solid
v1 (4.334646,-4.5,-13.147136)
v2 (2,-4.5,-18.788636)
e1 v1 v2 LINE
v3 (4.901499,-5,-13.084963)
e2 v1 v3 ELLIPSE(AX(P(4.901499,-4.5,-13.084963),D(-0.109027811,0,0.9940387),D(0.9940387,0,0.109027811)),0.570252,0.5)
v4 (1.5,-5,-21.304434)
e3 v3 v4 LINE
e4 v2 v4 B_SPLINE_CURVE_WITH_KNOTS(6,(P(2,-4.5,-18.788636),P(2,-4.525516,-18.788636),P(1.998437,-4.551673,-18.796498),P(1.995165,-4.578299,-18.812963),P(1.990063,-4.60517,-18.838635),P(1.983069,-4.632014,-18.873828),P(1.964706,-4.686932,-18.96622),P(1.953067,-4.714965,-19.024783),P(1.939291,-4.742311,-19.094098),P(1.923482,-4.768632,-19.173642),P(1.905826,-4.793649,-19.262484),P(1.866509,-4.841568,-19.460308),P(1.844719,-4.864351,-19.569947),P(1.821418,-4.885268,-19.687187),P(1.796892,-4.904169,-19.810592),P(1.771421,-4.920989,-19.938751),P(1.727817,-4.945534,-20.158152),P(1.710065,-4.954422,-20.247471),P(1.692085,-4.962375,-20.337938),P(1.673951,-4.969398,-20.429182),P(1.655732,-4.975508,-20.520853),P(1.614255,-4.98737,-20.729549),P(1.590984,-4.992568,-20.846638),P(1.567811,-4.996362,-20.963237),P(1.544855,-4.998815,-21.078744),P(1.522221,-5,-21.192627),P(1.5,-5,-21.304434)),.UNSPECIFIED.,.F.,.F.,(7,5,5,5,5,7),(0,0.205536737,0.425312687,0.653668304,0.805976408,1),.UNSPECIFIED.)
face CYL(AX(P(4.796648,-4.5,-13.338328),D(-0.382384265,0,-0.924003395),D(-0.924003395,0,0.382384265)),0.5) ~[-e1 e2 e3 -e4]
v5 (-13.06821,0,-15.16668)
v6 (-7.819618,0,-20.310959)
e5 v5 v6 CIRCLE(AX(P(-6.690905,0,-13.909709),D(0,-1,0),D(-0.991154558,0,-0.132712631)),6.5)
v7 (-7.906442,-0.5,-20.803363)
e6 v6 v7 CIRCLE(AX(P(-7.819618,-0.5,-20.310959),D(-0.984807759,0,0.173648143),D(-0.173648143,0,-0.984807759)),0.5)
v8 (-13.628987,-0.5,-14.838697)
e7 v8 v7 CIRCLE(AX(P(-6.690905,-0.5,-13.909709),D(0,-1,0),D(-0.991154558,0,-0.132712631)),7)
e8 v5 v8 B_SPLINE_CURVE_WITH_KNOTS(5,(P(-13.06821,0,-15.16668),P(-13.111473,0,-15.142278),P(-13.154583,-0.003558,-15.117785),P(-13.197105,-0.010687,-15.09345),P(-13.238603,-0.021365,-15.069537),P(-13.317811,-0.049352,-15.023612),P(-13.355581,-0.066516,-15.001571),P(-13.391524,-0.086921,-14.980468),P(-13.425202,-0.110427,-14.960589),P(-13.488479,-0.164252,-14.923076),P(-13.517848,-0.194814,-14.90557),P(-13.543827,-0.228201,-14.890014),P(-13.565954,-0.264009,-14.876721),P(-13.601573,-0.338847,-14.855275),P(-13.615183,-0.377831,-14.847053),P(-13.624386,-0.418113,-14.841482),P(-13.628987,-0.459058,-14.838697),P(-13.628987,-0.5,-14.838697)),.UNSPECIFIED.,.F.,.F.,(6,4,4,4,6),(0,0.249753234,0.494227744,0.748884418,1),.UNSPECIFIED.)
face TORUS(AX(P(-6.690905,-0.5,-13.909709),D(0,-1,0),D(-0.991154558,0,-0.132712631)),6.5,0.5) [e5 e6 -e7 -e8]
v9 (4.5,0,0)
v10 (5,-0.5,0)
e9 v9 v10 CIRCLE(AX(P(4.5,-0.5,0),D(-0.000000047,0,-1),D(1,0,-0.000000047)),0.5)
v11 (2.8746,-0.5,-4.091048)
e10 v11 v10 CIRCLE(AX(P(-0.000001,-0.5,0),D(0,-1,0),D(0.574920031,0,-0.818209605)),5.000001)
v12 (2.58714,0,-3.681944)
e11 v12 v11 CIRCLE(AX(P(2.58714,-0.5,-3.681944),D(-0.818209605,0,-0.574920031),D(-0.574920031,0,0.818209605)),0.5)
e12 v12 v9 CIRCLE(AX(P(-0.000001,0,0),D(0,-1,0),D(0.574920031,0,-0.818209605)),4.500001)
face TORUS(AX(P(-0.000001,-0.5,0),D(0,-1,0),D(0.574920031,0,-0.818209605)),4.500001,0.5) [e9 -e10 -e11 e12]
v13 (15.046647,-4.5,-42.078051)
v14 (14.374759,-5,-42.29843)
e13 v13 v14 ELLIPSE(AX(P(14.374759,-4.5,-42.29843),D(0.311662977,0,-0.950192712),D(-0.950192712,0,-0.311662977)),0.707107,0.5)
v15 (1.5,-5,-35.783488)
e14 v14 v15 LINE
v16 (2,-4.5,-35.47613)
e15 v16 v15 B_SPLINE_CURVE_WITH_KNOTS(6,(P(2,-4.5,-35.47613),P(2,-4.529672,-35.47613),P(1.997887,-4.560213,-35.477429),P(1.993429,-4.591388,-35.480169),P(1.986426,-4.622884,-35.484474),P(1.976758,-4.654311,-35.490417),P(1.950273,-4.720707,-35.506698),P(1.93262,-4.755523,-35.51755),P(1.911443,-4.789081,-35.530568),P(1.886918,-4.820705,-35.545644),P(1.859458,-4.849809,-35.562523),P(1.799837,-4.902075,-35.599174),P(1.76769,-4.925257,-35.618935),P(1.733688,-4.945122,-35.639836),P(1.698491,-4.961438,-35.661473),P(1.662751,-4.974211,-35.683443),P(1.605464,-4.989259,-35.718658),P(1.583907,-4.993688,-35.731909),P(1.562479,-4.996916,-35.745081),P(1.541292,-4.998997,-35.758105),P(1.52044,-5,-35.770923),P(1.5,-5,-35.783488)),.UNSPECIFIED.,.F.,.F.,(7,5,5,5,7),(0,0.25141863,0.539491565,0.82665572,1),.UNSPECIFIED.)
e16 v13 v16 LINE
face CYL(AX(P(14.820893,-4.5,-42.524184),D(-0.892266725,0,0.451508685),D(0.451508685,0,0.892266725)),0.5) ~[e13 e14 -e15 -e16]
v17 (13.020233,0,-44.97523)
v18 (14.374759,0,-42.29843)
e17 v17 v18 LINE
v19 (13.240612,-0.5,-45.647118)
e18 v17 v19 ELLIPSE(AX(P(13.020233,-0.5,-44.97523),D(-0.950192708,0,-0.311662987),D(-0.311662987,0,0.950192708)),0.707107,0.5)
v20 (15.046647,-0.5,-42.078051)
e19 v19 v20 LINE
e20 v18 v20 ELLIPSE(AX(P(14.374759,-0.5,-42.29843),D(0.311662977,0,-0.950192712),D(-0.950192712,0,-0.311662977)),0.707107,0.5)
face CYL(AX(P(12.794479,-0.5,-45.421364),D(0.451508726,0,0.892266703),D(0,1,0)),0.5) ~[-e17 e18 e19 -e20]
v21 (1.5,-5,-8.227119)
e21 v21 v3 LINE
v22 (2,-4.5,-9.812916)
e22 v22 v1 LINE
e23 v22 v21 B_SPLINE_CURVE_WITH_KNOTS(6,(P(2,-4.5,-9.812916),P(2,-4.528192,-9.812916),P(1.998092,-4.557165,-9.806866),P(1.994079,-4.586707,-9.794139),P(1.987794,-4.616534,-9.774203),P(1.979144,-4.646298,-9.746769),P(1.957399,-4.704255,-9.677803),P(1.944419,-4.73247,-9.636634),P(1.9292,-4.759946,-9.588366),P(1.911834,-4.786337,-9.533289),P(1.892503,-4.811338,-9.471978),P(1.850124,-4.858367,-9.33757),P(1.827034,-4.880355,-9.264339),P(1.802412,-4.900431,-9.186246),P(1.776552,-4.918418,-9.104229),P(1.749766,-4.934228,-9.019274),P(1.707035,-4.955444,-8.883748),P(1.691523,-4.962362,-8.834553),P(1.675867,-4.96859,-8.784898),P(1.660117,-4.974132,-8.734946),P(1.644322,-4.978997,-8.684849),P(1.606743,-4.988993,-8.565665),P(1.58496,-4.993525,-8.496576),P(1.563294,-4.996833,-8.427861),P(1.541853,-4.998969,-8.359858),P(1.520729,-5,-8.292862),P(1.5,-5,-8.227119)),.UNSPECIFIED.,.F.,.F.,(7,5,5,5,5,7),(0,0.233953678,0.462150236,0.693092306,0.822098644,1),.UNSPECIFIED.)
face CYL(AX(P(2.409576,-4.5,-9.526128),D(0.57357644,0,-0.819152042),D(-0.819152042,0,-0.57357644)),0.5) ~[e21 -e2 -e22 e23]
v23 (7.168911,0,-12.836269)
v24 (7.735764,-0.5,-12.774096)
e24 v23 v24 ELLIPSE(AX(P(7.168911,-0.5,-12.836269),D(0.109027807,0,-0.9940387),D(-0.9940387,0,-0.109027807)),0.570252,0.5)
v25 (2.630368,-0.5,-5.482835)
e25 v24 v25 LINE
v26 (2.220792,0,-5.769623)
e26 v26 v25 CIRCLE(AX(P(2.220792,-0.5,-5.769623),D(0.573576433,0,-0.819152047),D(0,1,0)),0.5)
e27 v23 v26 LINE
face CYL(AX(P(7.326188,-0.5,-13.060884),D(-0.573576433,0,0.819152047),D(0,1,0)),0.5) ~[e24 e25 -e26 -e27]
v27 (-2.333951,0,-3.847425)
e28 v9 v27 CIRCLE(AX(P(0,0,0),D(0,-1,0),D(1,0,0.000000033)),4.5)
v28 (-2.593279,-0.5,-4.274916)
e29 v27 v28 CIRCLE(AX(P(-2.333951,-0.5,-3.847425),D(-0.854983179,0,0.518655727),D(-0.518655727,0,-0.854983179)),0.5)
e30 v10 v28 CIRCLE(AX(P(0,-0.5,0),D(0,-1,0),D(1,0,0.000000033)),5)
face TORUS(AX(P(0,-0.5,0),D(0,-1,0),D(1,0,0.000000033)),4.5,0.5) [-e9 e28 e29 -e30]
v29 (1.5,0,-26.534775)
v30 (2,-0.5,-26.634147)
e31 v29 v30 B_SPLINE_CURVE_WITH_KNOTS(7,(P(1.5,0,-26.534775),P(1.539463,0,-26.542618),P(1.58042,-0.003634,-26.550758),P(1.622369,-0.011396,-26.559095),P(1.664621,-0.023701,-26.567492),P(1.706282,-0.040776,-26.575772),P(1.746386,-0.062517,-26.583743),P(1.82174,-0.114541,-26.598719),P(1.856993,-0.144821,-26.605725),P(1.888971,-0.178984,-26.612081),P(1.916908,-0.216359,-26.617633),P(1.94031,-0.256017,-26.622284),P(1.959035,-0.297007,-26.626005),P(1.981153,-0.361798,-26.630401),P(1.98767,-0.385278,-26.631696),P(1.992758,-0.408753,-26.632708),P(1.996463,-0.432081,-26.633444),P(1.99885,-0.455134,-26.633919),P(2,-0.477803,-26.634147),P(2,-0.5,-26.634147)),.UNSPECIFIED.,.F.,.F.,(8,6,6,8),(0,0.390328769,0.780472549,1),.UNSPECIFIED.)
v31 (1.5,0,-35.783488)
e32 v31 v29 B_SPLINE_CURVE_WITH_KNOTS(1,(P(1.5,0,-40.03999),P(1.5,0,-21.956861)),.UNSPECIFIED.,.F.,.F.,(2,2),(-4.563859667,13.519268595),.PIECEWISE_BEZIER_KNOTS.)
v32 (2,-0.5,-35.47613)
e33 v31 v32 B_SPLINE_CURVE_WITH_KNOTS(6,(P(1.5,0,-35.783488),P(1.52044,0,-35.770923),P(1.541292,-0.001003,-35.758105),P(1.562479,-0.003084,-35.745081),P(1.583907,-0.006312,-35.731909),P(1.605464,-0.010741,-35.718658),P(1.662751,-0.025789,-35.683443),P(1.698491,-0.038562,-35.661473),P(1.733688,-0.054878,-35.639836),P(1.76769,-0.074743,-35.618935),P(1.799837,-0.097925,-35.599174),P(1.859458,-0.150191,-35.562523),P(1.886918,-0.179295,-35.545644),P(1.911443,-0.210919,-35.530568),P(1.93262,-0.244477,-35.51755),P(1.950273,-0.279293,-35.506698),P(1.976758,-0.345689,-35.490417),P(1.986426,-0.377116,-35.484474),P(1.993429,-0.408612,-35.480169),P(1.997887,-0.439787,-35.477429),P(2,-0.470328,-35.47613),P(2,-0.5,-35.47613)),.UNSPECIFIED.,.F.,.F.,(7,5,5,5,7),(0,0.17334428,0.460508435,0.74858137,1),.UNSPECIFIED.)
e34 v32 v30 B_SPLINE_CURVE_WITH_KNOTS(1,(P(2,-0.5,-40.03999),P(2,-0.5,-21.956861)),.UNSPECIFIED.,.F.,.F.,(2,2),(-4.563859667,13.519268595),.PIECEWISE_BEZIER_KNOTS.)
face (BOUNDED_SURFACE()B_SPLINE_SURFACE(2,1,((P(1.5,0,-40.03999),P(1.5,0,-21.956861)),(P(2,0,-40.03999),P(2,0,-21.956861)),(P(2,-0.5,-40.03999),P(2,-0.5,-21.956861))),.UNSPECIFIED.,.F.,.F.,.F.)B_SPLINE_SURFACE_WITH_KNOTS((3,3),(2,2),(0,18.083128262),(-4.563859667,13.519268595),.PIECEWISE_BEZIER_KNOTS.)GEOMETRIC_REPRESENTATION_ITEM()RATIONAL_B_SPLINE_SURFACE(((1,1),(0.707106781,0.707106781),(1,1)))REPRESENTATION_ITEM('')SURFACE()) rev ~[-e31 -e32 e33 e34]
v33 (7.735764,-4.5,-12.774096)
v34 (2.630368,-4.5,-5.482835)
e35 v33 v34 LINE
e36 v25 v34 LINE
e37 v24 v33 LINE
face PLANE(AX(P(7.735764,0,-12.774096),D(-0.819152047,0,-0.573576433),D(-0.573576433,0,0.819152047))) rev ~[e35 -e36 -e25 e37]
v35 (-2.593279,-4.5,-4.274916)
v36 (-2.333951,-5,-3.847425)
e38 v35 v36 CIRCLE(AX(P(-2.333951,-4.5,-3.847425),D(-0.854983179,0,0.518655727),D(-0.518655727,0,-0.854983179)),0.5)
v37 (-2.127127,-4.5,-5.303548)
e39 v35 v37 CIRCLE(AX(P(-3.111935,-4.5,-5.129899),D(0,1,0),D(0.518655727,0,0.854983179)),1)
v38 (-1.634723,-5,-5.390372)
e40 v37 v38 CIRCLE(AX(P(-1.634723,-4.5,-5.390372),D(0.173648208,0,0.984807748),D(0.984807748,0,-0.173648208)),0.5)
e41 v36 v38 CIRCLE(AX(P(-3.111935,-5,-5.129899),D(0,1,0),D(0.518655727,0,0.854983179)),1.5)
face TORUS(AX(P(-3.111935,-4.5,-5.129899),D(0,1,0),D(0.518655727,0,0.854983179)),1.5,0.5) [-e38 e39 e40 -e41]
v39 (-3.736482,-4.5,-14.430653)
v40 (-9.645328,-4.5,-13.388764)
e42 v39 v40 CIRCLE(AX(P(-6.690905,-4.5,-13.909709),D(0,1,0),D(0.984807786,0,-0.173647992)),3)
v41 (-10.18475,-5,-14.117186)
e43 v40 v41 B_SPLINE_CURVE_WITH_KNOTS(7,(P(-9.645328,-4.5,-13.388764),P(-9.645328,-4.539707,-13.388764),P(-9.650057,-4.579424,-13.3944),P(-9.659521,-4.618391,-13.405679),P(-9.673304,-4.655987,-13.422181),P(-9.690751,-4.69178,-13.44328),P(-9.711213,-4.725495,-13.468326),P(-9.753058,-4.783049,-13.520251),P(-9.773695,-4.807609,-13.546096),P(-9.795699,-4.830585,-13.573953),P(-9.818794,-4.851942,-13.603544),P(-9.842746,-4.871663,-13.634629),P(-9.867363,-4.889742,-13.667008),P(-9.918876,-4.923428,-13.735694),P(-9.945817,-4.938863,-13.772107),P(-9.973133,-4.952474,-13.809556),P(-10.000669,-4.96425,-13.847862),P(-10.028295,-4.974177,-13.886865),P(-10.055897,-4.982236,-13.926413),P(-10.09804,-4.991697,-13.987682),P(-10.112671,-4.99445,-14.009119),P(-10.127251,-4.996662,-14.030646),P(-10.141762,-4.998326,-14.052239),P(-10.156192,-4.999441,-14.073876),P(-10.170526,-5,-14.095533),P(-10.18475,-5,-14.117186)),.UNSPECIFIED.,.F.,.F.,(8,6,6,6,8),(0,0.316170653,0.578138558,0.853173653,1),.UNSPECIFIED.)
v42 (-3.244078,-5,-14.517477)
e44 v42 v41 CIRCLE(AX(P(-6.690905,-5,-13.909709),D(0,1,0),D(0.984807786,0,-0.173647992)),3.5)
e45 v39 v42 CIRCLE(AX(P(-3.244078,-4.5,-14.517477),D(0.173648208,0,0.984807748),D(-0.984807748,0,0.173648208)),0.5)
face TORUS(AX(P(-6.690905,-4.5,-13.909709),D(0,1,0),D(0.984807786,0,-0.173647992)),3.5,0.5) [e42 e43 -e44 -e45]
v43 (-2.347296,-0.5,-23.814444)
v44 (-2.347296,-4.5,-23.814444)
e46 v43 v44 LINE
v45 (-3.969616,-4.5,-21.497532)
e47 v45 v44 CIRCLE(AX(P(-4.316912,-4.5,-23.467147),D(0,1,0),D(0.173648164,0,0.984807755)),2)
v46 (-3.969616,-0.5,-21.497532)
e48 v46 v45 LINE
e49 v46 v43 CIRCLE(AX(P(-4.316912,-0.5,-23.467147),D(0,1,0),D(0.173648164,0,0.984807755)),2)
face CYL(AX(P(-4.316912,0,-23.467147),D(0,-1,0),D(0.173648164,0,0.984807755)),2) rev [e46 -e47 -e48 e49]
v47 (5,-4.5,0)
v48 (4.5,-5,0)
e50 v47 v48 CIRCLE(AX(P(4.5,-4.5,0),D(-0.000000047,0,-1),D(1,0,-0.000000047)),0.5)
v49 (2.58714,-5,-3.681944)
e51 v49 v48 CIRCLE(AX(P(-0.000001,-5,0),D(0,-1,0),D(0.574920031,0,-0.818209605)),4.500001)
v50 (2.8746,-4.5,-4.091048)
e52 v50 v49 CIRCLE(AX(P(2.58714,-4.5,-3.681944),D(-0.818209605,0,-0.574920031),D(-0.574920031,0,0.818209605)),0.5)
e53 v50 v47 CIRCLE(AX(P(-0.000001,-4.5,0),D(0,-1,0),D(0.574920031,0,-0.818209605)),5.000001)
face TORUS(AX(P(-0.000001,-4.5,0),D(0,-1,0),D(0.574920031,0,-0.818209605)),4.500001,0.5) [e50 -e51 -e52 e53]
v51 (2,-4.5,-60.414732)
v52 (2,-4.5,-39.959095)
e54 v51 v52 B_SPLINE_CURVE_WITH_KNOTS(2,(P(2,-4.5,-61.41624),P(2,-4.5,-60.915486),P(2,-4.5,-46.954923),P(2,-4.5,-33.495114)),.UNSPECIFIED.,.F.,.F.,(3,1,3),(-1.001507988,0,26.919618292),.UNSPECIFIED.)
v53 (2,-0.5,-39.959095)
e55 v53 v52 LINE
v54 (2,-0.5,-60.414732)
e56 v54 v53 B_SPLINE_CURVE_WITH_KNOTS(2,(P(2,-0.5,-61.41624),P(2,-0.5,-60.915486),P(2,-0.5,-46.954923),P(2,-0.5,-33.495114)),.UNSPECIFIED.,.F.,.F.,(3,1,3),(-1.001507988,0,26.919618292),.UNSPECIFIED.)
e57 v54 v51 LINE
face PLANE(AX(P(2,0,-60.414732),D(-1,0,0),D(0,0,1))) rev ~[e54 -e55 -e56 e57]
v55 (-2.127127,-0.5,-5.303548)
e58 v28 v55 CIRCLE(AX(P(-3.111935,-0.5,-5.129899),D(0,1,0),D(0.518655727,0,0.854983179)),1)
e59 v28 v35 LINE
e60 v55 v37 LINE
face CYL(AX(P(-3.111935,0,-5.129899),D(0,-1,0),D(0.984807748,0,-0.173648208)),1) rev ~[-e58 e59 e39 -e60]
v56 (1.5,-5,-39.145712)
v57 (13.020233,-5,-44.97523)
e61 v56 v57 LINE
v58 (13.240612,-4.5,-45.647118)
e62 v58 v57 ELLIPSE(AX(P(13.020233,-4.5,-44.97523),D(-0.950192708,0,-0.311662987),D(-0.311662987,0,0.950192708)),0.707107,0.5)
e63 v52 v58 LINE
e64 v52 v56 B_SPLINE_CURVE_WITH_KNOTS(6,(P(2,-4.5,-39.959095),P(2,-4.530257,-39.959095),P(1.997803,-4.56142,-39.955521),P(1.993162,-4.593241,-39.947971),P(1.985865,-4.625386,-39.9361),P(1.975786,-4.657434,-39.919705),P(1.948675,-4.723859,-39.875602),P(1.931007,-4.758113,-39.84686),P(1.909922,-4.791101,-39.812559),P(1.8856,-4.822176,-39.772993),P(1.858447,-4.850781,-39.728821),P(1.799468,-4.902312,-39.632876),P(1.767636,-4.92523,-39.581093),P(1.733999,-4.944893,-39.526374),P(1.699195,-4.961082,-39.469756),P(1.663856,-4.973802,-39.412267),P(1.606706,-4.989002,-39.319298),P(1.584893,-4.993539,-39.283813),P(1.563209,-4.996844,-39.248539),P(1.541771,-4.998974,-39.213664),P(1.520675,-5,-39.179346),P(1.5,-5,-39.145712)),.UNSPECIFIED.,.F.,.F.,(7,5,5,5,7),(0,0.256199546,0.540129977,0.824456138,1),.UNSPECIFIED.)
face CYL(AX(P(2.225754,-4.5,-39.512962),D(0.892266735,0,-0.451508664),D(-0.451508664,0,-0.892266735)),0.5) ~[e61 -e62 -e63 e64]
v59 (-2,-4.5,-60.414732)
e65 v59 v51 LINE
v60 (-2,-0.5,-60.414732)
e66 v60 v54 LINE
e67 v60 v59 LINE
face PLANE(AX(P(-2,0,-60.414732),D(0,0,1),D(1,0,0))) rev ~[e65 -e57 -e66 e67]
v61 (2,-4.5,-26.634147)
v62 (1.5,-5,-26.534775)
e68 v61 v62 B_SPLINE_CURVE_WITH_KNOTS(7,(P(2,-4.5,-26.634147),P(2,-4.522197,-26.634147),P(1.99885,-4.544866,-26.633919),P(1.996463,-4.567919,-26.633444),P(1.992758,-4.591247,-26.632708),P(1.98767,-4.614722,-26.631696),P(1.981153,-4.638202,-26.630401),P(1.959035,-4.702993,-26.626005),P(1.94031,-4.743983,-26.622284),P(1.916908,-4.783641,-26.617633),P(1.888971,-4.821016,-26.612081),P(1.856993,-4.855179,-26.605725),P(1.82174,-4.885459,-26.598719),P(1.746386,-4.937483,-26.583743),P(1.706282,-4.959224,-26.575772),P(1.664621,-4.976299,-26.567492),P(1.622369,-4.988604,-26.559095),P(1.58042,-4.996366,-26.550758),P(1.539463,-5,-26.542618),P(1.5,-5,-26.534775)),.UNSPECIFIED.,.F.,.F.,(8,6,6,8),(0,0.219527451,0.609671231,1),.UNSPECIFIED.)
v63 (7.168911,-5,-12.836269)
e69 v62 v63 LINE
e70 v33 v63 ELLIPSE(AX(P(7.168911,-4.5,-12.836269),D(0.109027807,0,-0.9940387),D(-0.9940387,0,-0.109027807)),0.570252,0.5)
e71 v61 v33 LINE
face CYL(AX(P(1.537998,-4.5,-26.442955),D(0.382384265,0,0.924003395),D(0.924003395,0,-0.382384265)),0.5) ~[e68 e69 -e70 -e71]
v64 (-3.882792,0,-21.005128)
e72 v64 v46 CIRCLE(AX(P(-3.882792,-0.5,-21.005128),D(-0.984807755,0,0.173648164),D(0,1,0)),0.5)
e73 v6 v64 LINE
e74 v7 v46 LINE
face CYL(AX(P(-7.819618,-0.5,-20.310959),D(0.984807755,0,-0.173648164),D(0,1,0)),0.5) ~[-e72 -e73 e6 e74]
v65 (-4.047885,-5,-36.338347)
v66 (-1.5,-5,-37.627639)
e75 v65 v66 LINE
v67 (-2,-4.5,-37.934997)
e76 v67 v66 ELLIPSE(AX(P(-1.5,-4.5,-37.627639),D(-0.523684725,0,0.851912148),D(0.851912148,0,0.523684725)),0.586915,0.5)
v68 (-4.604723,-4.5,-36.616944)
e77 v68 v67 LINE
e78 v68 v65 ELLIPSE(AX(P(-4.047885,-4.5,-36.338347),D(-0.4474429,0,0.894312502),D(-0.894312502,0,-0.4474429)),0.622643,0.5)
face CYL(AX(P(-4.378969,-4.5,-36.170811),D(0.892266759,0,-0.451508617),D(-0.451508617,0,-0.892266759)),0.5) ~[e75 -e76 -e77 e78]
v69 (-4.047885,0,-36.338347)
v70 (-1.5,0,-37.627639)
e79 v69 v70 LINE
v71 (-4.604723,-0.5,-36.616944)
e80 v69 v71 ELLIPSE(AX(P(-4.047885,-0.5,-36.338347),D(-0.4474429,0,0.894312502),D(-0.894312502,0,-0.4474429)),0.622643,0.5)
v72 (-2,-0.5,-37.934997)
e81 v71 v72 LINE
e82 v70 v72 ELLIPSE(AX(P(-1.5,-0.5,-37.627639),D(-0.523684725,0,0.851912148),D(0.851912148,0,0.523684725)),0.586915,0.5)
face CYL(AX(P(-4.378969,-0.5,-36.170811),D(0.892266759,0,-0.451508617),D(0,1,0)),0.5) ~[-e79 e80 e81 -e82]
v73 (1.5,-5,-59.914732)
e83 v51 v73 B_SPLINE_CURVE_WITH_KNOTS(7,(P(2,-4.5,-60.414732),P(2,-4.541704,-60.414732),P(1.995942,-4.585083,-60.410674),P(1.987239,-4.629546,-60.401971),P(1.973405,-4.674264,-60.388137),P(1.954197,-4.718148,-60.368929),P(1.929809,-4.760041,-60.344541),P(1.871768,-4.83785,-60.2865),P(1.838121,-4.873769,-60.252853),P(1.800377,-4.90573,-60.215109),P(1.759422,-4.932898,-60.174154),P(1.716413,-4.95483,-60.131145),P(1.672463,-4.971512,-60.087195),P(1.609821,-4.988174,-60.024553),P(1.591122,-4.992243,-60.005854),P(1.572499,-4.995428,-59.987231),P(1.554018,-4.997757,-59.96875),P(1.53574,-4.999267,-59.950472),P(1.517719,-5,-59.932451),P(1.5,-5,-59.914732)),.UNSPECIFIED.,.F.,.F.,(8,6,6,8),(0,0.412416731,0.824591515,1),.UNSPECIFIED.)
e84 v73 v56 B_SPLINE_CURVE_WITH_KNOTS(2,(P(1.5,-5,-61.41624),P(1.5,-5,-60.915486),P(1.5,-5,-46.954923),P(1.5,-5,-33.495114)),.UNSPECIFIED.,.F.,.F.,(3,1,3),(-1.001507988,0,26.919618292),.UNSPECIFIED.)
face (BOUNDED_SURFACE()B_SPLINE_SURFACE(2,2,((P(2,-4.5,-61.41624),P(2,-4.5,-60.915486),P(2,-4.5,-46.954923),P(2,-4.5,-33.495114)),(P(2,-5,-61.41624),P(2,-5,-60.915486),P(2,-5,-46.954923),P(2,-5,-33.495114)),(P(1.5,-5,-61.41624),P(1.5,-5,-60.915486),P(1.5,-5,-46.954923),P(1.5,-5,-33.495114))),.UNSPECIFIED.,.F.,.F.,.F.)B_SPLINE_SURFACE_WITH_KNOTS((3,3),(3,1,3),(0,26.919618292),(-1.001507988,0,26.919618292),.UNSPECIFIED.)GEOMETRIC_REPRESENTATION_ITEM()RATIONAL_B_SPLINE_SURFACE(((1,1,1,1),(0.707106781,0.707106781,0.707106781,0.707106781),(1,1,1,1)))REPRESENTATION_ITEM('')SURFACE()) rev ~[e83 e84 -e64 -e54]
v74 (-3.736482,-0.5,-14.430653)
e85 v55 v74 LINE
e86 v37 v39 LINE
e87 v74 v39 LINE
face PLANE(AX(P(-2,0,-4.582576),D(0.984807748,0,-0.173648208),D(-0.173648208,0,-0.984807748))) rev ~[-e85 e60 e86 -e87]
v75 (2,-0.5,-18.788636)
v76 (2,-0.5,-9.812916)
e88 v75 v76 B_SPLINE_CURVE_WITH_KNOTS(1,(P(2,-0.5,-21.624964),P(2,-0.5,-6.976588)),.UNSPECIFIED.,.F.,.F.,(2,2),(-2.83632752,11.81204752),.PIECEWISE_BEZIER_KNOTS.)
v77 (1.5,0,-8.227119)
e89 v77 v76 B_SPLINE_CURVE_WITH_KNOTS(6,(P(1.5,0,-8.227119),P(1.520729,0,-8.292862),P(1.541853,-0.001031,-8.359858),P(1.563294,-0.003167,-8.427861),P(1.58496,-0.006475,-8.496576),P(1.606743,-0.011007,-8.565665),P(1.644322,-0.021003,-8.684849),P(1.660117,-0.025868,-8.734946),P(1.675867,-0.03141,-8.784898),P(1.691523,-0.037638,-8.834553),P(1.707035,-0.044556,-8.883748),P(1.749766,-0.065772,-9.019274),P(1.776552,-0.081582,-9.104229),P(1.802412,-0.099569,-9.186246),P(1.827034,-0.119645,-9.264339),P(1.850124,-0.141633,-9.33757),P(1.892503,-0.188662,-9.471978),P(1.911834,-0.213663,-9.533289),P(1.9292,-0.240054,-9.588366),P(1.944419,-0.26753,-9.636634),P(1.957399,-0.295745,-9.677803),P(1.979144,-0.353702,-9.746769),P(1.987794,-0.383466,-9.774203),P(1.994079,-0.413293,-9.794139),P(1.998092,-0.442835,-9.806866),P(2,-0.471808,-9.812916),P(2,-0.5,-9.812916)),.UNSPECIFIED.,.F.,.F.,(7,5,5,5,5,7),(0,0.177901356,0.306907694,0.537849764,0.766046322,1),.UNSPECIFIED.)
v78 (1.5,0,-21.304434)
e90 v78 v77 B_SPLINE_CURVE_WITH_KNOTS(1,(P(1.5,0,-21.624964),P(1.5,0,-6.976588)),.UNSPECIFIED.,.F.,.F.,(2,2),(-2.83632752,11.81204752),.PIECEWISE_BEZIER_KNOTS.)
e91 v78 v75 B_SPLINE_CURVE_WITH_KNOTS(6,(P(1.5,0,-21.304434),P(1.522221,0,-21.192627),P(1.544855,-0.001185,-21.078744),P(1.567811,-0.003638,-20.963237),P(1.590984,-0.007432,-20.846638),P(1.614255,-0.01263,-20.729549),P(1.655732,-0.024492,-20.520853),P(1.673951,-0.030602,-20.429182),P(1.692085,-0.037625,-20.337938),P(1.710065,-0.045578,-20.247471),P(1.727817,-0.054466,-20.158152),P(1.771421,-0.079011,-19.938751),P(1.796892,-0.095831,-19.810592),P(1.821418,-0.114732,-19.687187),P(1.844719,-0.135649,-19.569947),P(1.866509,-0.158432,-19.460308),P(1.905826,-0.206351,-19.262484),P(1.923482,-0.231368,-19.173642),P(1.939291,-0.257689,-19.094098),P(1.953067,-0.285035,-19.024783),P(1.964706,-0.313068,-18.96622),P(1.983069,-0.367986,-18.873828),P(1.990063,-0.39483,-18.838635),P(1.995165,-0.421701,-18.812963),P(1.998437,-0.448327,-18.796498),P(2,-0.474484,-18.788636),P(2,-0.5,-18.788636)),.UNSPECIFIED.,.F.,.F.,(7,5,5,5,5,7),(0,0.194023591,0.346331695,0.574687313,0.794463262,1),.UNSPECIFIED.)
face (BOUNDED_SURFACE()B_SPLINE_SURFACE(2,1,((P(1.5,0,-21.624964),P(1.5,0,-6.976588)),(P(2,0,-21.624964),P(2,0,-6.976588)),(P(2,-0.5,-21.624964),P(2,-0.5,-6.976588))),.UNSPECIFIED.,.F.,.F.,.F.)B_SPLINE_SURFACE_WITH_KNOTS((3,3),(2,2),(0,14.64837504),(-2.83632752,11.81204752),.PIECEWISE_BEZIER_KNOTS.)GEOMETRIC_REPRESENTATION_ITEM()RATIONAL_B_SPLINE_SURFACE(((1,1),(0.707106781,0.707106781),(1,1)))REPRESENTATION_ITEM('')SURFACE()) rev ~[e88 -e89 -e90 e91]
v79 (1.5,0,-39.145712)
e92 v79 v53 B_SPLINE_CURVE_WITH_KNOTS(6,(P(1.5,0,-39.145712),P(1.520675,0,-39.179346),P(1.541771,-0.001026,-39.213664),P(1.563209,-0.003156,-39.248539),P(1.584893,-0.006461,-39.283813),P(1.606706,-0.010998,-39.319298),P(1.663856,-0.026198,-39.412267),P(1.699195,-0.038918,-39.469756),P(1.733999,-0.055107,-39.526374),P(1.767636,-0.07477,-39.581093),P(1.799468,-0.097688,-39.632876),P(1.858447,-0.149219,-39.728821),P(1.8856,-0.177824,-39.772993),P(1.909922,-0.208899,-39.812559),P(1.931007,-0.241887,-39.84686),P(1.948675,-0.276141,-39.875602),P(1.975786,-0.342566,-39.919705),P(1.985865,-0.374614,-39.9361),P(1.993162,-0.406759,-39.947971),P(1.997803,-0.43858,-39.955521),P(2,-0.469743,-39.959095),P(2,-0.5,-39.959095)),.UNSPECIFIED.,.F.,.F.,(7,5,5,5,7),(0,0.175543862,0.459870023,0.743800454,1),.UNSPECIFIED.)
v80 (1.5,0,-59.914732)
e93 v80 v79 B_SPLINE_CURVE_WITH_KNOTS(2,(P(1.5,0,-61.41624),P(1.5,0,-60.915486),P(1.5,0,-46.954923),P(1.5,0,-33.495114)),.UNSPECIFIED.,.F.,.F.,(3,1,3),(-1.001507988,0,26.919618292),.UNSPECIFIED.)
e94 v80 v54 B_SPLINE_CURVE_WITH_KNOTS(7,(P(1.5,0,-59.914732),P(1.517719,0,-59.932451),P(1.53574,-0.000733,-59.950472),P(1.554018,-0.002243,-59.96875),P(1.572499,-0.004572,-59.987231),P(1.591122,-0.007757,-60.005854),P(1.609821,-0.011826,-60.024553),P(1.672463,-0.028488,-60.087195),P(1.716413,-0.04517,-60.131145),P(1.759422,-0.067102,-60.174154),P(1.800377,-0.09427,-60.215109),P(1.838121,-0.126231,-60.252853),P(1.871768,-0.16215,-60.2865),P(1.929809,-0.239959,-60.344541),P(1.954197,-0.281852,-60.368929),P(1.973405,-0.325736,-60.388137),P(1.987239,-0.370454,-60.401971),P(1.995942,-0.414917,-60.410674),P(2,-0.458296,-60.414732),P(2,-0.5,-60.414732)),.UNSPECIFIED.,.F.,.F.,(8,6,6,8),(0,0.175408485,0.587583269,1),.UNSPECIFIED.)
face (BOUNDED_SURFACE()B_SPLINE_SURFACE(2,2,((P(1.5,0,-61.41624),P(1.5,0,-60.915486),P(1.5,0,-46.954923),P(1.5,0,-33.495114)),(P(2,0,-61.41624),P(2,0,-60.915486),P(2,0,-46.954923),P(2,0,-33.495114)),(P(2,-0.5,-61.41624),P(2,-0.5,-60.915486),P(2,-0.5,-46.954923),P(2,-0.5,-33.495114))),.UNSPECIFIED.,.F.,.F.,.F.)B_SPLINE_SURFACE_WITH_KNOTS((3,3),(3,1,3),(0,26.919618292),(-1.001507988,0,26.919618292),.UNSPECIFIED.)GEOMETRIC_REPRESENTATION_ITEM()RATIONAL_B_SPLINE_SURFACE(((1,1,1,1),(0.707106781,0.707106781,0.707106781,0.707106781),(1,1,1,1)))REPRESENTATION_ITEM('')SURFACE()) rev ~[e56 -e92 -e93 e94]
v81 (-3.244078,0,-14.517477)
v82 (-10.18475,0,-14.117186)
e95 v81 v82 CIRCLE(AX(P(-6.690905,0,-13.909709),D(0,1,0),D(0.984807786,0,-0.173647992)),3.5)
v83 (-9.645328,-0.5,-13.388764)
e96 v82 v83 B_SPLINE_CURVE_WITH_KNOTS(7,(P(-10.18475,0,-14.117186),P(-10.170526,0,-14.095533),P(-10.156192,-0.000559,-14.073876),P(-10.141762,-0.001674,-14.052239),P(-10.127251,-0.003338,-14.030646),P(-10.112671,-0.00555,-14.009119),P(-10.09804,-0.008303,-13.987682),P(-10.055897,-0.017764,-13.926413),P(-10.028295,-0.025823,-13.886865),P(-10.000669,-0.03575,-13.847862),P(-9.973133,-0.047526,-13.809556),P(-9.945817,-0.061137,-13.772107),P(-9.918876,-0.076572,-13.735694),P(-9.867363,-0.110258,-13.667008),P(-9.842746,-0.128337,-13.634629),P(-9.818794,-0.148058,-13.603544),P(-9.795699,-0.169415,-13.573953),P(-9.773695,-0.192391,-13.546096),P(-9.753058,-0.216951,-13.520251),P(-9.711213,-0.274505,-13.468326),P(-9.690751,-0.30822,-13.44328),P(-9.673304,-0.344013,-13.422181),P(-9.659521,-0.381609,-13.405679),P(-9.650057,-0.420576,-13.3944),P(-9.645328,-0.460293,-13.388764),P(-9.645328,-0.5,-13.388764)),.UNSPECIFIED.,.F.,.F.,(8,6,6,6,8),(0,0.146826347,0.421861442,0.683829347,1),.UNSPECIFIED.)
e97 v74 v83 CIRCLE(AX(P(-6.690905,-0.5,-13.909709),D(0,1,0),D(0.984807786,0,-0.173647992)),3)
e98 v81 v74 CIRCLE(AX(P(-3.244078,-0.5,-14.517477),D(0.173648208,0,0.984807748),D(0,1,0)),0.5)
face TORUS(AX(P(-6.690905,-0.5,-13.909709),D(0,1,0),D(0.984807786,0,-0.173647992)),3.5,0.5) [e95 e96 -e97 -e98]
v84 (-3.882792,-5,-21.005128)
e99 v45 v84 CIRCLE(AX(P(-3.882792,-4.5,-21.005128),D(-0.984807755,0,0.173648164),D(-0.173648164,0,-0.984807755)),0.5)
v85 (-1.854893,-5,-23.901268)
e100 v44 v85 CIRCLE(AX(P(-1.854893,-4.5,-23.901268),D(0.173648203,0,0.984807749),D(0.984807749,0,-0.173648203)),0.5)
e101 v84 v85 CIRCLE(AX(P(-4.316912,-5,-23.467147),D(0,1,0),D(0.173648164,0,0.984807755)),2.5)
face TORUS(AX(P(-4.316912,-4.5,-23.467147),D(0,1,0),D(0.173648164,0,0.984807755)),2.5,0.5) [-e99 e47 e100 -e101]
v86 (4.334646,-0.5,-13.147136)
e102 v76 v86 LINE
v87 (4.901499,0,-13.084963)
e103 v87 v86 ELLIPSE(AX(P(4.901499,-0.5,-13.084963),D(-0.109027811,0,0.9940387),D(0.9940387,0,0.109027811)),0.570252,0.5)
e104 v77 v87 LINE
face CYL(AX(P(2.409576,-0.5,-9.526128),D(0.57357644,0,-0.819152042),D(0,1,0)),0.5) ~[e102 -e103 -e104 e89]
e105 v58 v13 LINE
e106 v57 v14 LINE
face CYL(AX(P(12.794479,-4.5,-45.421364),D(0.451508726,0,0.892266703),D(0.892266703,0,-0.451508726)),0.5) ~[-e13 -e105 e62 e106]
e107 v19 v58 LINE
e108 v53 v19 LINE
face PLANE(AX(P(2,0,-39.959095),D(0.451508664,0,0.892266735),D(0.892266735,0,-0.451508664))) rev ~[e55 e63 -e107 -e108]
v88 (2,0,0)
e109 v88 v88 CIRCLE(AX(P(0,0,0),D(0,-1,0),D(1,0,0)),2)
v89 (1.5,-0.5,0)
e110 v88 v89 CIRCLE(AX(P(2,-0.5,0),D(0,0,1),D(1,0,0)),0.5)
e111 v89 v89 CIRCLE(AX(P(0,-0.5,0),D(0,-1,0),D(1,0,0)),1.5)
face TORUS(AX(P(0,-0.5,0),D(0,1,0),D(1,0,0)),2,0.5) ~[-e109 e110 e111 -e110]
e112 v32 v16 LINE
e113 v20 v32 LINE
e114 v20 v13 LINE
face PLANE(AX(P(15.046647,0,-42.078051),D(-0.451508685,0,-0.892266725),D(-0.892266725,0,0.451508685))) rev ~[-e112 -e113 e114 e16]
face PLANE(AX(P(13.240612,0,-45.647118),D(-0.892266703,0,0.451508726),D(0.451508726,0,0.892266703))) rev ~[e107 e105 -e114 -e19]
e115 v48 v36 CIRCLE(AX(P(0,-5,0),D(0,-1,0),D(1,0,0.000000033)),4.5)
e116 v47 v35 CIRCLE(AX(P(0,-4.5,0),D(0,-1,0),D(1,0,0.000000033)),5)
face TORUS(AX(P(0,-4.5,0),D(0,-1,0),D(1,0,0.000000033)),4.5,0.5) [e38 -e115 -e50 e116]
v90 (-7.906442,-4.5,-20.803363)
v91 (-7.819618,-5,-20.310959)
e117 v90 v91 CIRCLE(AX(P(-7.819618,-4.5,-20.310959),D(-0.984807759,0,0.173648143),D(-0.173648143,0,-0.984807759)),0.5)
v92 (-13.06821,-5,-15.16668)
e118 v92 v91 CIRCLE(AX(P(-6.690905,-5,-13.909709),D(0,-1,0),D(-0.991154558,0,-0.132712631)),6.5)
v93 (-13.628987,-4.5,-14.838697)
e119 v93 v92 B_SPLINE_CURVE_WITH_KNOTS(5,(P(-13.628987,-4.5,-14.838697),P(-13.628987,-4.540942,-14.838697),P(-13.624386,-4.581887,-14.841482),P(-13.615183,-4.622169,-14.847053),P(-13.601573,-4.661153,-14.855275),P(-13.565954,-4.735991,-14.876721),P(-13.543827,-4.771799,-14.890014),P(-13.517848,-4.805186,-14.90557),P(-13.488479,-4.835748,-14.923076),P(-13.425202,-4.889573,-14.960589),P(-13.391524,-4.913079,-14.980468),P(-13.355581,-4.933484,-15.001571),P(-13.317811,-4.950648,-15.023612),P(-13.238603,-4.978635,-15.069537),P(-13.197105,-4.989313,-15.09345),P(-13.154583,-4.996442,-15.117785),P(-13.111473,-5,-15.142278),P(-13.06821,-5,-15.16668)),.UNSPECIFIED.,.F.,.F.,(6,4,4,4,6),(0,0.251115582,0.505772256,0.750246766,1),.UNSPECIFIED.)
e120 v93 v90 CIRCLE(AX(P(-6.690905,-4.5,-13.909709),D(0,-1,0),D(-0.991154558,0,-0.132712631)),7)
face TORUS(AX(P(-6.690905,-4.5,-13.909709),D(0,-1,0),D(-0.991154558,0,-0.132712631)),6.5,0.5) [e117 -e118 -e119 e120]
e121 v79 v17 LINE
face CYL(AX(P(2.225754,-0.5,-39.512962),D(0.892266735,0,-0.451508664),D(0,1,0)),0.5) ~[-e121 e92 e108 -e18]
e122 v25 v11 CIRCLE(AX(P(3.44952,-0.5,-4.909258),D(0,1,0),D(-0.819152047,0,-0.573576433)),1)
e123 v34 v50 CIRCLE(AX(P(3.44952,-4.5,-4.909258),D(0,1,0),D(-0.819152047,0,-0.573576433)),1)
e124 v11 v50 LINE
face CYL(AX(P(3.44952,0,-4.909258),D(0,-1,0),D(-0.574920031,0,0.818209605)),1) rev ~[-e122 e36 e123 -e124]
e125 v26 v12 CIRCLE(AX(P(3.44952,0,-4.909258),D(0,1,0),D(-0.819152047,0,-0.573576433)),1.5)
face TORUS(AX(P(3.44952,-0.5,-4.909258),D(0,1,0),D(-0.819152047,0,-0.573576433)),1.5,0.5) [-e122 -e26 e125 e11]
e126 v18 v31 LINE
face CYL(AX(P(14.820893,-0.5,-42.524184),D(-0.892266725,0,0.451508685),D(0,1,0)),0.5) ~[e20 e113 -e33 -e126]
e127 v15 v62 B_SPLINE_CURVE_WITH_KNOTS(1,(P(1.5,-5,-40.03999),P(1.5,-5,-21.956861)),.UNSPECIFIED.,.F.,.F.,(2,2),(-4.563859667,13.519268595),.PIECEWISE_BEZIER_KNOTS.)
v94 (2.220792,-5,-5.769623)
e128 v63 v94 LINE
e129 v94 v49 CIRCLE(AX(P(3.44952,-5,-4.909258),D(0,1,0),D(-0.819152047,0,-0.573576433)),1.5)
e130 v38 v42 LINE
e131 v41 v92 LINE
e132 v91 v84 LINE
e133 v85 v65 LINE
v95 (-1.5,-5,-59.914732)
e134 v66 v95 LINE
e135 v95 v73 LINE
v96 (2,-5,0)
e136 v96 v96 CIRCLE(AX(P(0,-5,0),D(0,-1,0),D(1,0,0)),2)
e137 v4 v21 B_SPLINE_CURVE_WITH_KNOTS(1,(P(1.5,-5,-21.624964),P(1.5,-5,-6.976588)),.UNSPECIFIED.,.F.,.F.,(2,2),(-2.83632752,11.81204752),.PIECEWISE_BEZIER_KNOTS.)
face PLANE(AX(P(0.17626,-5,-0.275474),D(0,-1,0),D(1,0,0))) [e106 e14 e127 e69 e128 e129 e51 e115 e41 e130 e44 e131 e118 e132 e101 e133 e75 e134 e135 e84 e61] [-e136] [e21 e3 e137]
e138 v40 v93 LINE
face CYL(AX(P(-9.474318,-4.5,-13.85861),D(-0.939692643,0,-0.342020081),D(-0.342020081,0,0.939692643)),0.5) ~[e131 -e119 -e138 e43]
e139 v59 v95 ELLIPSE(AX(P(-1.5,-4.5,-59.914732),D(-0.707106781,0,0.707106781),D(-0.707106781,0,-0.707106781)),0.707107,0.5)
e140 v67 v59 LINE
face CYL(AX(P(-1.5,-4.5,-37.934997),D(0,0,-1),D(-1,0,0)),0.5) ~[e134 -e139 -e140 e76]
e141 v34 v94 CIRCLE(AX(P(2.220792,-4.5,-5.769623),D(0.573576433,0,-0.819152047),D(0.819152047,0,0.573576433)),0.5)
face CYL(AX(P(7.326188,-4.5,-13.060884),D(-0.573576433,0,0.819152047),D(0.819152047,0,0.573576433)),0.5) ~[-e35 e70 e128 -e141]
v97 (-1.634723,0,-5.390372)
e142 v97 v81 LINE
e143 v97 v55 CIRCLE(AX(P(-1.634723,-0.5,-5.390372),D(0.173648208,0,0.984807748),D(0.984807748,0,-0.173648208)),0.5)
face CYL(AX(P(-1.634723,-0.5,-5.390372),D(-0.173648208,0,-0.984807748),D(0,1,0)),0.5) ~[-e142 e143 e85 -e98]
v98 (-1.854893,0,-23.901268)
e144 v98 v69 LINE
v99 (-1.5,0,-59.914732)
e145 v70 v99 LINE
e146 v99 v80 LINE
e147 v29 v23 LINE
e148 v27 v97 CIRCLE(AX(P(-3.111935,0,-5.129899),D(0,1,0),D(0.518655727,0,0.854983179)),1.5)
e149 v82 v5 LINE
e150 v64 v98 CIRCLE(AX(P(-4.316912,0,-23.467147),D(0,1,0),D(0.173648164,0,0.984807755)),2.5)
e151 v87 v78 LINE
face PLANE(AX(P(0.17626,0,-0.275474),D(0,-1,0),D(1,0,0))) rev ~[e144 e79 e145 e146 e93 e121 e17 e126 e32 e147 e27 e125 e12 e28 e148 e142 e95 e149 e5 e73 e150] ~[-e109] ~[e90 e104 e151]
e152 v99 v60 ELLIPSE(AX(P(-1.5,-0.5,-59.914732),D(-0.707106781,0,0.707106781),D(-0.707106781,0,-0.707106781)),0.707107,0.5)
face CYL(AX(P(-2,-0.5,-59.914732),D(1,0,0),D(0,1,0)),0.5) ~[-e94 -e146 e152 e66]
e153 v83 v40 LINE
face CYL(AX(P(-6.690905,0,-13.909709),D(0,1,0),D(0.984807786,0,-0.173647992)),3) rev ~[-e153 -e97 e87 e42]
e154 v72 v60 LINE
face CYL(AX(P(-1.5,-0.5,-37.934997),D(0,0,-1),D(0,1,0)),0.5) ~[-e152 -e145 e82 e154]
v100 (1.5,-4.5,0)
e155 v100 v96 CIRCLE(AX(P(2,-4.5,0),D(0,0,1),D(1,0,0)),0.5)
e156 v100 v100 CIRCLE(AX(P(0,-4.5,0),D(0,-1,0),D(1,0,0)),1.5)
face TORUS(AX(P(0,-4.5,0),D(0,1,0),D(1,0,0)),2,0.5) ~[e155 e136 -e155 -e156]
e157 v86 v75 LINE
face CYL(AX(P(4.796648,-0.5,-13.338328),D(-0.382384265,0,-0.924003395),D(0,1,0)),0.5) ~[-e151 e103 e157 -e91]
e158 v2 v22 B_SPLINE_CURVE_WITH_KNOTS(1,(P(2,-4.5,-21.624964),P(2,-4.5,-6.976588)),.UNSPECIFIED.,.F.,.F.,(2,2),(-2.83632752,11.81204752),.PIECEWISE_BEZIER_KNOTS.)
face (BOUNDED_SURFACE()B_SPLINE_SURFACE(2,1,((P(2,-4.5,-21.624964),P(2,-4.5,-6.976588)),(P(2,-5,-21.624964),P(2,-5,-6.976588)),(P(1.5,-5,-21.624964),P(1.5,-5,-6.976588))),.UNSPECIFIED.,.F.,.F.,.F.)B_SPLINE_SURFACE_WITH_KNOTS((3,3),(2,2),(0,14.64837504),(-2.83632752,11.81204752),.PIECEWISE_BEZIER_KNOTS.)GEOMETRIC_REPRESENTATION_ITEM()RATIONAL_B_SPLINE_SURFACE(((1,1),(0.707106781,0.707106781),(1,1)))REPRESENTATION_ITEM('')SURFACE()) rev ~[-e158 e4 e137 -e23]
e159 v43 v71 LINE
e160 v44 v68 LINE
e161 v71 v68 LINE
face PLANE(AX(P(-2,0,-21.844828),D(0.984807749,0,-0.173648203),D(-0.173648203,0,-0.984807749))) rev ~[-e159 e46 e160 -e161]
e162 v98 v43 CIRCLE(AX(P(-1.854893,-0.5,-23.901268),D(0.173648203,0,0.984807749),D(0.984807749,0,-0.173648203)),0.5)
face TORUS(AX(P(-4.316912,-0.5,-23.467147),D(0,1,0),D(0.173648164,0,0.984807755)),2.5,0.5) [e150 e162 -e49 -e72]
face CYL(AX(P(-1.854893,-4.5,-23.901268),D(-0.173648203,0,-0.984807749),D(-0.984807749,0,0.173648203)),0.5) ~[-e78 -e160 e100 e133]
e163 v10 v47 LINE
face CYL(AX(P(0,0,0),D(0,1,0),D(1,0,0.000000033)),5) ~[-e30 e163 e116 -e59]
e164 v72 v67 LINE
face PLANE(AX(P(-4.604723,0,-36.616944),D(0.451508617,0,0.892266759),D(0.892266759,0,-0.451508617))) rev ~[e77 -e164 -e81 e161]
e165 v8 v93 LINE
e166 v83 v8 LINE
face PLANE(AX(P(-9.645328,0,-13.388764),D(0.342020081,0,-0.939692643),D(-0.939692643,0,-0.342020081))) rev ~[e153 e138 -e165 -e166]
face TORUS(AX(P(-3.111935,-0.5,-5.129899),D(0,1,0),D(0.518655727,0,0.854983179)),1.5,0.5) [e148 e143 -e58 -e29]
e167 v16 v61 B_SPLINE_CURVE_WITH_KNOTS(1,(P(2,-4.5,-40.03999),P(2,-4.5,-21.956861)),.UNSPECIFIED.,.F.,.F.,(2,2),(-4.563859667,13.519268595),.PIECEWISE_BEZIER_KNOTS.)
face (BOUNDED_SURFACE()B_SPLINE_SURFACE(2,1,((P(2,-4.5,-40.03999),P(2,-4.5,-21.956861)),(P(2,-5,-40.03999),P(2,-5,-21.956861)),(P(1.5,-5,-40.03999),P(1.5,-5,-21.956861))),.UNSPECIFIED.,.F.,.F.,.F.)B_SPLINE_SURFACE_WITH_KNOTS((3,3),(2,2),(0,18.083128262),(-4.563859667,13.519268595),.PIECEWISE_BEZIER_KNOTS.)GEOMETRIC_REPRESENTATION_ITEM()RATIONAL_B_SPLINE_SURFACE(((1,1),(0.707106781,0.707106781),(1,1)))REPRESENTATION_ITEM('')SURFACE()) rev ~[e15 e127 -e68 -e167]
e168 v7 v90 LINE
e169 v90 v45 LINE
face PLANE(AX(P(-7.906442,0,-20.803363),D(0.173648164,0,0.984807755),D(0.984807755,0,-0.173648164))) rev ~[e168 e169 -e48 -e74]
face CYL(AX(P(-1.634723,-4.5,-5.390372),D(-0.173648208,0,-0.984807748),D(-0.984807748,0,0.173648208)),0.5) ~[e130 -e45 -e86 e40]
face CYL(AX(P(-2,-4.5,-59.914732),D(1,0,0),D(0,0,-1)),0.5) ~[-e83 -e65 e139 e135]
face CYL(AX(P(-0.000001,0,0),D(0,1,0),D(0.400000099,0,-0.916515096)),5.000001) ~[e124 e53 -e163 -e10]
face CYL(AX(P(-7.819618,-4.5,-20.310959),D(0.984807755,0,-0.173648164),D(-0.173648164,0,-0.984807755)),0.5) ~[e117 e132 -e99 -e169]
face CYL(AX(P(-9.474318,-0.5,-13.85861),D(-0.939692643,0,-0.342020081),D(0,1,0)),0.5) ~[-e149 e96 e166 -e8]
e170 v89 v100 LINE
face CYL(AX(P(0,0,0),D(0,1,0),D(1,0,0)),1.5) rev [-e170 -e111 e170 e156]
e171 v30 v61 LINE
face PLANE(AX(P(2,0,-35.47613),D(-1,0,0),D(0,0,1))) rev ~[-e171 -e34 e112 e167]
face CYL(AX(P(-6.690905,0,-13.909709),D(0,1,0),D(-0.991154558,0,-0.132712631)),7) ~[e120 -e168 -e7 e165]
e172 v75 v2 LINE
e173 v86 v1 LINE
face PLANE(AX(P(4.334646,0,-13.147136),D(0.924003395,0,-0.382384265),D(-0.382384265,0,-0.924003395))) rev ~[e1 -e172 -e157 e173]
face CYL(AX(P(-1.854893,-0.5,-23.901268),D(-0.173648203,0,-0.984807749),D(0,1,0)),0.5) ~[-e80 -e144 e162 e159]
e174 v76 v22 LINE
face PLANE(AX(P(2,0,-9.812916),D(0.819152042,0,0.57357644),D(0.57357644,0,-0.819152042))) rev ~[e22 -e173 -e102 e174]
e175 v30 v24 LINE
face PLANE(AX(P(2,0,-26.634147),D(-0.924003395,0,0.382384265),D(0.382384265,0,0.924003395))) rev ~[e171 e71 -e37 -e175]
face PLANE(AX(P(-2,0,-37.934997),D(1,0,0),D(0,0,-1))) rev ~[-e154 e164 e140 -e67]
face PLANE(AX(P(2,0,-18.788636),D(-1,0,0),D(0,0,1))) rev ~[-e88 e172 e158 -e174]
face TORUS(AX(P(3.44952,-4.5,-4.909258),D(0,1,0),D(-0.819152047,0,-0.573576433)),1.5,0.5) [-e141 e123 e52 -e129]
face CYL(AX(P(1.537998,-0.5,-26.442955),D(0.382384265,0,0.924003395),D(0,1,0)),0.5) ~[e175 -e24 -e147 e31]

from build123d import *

# Parameters (mm, degrees)
F0_R     = 1.5
F1_DEPTH = 5
F2_R     = 2
F3_R     = 1
F4_R     = 0.5


with BuildPart() as f1:
    # F0 (on Front) → F1 (new body)
    with BuildSketch(Plane.XZ):
        with BuildLine():
            ThreePointArc((2, -4.582576), (4.1833, -2.738613), (5, 0))
            ThreePointArc((5, 0), (-2.738613, 4.1833), (-2, -4.582576))
            ThreePointArc((-2, -4.582576), (0, -5), (2, -4.582576))
        make_face()
        Circle(F0_R, mode=Mode.SUBTRACT)
        Polygon((7.735764, -12.774096), (2, -4.582576), (2, -9.812916), (4.334646, -13.147136), (2, -18.788636), (2, -26.634147), align=None)
        with BuildLine():
            ThreePointArc((2, -4.582576), (0, -5), (-2, -4.582576))
            Line((-2, -4.582576), (-2, -21.844828))
            Line((-2, -21.844828), (-2, -37.934997))
            Line((-2, -37.934997), (2, -39.959095))
            Line((2, -39.959095), (2, -35.47613))
            Line((2, -35.47613), (2, -26.634147))
            Line((2, -26.634147), (2, -18.788636))
            Line((2, -18.788636), (2, -9.812916))
            Line((2, -9.812916), (2, -4.582576))
        make_face()
        with BuildLine():
            Line((-2, -21.844828), (-2, -4.582576))
            Line((-2, -4.582576), (-3.736482, -14.430653))
            ThreePointArc((-3.736482, -14.430653), (-7.21185, -16.864132), (-9.645328, -13.388764))
            Line((-9.645328, -13.388764), (-13.628987, -14.838697))
            ThreePointArc((-13.628987, -14.838697), (-11.742111, -18.755874), (-7.906442, -20.803363))
            Line((-7.906442, -20.803363), (-2, -21.844828))
        make_face()
        Polygon((-2, -37.934997), (-2, -21.844828), (-4.604723, -36.616944), align=None)
        Polygon((2, -35.47613), (2, -39.959095), (13.240612, -45.647118), (15.046647, -42.078051), align=None)
        Polygon((2, -39.959095), (-2, -37.934997), (-2, -60.414732), (2, -60.414732), align=None)
    extrude(amount=F1_DEPTH)

    # F2
    f2_edges = [f1.edges().sort_by_distance(p)[0] for p in [
        (-2, -2.5, -21.844828),
    ]]
    fillet(f2_edges, radius=F2_R)

    # F3
    f3_edges = [f1.edges().sort_by_distance(p)[0] for p in [
        (-2, -2.5, -4.582576),
        (2, -2.5, -4.582576),
    ]]
    fillet(f3_edges, radius=F3_R)

    # F4
    f4_edges = [f1.edges().sort_by_distance(p)[0] for p in [
        (-2.931804, -5, -9.8671),
        (-2.201099, -5, -4.717129),
        (-7.21185, -5, -16.864132),
        (-0.168039, -5, 4.997175),
        (-11.637158, -5, -14.113731),
        (2.46457, -5, -4.736418),
        (-11.742111, -5, -18.755874),
        (5.183066, -5, -9.128465),
        (-5.938029, -5, -21.150447),
        (4.867882, -5, -19.704122),
        (-2.678608, -5, -22.319994),
        (2, -5, -31.055139),
        (-3.47601, -5, -30.215694),
        (8.523323, -5, -38.77709),
        (-3.302361, -5, -37.275971),
        (14.143629, -5, -43.862584),
        (-2, -5, -49.174864),
        (7.620306, -5, -42.803106),
        (0, -5, -60.414732),
        (2, -5, -50.186913),
        (-1.5, -5, 0),
        (2, -5, -14.300776),
        (3.167323, -5, -11.480026),
        (3.167323, -5, -15.967886),
        (-2.931804, 0, -9.8671),
        (-2.201099, 0, -4.717129),
        (-7.21185, 0, -16.864132),
        (-0.168039, 0, 4.997175),
        (-11.637158, 0, -14.113731),
        (2.46457, 0, -4.736418),
        (-11.742111, 0, -18.755874),
        (5.183066, 0, -9.128465),
        (-5.938029, 0, -21.150447),
        (4.867882, 0, -19.704122),
        (-2.678608, 0, -22.319994),
        (2, 0, -31.055139),
        (-3.47601, 0, -30.215694),
        (8.523323, 0, -38.77709),
        (-3.302361, 0, -37.275971),
        (14.143629, 0, -43.862584),
        (-2, 0, -49.174864),
        (7.620306, 0, -42.803106),
        (0, 0, -60.414732),
        (2, 0, -50.186913),
        (-1.5, 0, 0),
        (2, 0, -14.300776),
        (3.167323, 0, -11.480026),
        (3.167323, 0, -15.967886),
    ]]
    fillet(f4_edges, radius=F4_R)


solid = f1.part
